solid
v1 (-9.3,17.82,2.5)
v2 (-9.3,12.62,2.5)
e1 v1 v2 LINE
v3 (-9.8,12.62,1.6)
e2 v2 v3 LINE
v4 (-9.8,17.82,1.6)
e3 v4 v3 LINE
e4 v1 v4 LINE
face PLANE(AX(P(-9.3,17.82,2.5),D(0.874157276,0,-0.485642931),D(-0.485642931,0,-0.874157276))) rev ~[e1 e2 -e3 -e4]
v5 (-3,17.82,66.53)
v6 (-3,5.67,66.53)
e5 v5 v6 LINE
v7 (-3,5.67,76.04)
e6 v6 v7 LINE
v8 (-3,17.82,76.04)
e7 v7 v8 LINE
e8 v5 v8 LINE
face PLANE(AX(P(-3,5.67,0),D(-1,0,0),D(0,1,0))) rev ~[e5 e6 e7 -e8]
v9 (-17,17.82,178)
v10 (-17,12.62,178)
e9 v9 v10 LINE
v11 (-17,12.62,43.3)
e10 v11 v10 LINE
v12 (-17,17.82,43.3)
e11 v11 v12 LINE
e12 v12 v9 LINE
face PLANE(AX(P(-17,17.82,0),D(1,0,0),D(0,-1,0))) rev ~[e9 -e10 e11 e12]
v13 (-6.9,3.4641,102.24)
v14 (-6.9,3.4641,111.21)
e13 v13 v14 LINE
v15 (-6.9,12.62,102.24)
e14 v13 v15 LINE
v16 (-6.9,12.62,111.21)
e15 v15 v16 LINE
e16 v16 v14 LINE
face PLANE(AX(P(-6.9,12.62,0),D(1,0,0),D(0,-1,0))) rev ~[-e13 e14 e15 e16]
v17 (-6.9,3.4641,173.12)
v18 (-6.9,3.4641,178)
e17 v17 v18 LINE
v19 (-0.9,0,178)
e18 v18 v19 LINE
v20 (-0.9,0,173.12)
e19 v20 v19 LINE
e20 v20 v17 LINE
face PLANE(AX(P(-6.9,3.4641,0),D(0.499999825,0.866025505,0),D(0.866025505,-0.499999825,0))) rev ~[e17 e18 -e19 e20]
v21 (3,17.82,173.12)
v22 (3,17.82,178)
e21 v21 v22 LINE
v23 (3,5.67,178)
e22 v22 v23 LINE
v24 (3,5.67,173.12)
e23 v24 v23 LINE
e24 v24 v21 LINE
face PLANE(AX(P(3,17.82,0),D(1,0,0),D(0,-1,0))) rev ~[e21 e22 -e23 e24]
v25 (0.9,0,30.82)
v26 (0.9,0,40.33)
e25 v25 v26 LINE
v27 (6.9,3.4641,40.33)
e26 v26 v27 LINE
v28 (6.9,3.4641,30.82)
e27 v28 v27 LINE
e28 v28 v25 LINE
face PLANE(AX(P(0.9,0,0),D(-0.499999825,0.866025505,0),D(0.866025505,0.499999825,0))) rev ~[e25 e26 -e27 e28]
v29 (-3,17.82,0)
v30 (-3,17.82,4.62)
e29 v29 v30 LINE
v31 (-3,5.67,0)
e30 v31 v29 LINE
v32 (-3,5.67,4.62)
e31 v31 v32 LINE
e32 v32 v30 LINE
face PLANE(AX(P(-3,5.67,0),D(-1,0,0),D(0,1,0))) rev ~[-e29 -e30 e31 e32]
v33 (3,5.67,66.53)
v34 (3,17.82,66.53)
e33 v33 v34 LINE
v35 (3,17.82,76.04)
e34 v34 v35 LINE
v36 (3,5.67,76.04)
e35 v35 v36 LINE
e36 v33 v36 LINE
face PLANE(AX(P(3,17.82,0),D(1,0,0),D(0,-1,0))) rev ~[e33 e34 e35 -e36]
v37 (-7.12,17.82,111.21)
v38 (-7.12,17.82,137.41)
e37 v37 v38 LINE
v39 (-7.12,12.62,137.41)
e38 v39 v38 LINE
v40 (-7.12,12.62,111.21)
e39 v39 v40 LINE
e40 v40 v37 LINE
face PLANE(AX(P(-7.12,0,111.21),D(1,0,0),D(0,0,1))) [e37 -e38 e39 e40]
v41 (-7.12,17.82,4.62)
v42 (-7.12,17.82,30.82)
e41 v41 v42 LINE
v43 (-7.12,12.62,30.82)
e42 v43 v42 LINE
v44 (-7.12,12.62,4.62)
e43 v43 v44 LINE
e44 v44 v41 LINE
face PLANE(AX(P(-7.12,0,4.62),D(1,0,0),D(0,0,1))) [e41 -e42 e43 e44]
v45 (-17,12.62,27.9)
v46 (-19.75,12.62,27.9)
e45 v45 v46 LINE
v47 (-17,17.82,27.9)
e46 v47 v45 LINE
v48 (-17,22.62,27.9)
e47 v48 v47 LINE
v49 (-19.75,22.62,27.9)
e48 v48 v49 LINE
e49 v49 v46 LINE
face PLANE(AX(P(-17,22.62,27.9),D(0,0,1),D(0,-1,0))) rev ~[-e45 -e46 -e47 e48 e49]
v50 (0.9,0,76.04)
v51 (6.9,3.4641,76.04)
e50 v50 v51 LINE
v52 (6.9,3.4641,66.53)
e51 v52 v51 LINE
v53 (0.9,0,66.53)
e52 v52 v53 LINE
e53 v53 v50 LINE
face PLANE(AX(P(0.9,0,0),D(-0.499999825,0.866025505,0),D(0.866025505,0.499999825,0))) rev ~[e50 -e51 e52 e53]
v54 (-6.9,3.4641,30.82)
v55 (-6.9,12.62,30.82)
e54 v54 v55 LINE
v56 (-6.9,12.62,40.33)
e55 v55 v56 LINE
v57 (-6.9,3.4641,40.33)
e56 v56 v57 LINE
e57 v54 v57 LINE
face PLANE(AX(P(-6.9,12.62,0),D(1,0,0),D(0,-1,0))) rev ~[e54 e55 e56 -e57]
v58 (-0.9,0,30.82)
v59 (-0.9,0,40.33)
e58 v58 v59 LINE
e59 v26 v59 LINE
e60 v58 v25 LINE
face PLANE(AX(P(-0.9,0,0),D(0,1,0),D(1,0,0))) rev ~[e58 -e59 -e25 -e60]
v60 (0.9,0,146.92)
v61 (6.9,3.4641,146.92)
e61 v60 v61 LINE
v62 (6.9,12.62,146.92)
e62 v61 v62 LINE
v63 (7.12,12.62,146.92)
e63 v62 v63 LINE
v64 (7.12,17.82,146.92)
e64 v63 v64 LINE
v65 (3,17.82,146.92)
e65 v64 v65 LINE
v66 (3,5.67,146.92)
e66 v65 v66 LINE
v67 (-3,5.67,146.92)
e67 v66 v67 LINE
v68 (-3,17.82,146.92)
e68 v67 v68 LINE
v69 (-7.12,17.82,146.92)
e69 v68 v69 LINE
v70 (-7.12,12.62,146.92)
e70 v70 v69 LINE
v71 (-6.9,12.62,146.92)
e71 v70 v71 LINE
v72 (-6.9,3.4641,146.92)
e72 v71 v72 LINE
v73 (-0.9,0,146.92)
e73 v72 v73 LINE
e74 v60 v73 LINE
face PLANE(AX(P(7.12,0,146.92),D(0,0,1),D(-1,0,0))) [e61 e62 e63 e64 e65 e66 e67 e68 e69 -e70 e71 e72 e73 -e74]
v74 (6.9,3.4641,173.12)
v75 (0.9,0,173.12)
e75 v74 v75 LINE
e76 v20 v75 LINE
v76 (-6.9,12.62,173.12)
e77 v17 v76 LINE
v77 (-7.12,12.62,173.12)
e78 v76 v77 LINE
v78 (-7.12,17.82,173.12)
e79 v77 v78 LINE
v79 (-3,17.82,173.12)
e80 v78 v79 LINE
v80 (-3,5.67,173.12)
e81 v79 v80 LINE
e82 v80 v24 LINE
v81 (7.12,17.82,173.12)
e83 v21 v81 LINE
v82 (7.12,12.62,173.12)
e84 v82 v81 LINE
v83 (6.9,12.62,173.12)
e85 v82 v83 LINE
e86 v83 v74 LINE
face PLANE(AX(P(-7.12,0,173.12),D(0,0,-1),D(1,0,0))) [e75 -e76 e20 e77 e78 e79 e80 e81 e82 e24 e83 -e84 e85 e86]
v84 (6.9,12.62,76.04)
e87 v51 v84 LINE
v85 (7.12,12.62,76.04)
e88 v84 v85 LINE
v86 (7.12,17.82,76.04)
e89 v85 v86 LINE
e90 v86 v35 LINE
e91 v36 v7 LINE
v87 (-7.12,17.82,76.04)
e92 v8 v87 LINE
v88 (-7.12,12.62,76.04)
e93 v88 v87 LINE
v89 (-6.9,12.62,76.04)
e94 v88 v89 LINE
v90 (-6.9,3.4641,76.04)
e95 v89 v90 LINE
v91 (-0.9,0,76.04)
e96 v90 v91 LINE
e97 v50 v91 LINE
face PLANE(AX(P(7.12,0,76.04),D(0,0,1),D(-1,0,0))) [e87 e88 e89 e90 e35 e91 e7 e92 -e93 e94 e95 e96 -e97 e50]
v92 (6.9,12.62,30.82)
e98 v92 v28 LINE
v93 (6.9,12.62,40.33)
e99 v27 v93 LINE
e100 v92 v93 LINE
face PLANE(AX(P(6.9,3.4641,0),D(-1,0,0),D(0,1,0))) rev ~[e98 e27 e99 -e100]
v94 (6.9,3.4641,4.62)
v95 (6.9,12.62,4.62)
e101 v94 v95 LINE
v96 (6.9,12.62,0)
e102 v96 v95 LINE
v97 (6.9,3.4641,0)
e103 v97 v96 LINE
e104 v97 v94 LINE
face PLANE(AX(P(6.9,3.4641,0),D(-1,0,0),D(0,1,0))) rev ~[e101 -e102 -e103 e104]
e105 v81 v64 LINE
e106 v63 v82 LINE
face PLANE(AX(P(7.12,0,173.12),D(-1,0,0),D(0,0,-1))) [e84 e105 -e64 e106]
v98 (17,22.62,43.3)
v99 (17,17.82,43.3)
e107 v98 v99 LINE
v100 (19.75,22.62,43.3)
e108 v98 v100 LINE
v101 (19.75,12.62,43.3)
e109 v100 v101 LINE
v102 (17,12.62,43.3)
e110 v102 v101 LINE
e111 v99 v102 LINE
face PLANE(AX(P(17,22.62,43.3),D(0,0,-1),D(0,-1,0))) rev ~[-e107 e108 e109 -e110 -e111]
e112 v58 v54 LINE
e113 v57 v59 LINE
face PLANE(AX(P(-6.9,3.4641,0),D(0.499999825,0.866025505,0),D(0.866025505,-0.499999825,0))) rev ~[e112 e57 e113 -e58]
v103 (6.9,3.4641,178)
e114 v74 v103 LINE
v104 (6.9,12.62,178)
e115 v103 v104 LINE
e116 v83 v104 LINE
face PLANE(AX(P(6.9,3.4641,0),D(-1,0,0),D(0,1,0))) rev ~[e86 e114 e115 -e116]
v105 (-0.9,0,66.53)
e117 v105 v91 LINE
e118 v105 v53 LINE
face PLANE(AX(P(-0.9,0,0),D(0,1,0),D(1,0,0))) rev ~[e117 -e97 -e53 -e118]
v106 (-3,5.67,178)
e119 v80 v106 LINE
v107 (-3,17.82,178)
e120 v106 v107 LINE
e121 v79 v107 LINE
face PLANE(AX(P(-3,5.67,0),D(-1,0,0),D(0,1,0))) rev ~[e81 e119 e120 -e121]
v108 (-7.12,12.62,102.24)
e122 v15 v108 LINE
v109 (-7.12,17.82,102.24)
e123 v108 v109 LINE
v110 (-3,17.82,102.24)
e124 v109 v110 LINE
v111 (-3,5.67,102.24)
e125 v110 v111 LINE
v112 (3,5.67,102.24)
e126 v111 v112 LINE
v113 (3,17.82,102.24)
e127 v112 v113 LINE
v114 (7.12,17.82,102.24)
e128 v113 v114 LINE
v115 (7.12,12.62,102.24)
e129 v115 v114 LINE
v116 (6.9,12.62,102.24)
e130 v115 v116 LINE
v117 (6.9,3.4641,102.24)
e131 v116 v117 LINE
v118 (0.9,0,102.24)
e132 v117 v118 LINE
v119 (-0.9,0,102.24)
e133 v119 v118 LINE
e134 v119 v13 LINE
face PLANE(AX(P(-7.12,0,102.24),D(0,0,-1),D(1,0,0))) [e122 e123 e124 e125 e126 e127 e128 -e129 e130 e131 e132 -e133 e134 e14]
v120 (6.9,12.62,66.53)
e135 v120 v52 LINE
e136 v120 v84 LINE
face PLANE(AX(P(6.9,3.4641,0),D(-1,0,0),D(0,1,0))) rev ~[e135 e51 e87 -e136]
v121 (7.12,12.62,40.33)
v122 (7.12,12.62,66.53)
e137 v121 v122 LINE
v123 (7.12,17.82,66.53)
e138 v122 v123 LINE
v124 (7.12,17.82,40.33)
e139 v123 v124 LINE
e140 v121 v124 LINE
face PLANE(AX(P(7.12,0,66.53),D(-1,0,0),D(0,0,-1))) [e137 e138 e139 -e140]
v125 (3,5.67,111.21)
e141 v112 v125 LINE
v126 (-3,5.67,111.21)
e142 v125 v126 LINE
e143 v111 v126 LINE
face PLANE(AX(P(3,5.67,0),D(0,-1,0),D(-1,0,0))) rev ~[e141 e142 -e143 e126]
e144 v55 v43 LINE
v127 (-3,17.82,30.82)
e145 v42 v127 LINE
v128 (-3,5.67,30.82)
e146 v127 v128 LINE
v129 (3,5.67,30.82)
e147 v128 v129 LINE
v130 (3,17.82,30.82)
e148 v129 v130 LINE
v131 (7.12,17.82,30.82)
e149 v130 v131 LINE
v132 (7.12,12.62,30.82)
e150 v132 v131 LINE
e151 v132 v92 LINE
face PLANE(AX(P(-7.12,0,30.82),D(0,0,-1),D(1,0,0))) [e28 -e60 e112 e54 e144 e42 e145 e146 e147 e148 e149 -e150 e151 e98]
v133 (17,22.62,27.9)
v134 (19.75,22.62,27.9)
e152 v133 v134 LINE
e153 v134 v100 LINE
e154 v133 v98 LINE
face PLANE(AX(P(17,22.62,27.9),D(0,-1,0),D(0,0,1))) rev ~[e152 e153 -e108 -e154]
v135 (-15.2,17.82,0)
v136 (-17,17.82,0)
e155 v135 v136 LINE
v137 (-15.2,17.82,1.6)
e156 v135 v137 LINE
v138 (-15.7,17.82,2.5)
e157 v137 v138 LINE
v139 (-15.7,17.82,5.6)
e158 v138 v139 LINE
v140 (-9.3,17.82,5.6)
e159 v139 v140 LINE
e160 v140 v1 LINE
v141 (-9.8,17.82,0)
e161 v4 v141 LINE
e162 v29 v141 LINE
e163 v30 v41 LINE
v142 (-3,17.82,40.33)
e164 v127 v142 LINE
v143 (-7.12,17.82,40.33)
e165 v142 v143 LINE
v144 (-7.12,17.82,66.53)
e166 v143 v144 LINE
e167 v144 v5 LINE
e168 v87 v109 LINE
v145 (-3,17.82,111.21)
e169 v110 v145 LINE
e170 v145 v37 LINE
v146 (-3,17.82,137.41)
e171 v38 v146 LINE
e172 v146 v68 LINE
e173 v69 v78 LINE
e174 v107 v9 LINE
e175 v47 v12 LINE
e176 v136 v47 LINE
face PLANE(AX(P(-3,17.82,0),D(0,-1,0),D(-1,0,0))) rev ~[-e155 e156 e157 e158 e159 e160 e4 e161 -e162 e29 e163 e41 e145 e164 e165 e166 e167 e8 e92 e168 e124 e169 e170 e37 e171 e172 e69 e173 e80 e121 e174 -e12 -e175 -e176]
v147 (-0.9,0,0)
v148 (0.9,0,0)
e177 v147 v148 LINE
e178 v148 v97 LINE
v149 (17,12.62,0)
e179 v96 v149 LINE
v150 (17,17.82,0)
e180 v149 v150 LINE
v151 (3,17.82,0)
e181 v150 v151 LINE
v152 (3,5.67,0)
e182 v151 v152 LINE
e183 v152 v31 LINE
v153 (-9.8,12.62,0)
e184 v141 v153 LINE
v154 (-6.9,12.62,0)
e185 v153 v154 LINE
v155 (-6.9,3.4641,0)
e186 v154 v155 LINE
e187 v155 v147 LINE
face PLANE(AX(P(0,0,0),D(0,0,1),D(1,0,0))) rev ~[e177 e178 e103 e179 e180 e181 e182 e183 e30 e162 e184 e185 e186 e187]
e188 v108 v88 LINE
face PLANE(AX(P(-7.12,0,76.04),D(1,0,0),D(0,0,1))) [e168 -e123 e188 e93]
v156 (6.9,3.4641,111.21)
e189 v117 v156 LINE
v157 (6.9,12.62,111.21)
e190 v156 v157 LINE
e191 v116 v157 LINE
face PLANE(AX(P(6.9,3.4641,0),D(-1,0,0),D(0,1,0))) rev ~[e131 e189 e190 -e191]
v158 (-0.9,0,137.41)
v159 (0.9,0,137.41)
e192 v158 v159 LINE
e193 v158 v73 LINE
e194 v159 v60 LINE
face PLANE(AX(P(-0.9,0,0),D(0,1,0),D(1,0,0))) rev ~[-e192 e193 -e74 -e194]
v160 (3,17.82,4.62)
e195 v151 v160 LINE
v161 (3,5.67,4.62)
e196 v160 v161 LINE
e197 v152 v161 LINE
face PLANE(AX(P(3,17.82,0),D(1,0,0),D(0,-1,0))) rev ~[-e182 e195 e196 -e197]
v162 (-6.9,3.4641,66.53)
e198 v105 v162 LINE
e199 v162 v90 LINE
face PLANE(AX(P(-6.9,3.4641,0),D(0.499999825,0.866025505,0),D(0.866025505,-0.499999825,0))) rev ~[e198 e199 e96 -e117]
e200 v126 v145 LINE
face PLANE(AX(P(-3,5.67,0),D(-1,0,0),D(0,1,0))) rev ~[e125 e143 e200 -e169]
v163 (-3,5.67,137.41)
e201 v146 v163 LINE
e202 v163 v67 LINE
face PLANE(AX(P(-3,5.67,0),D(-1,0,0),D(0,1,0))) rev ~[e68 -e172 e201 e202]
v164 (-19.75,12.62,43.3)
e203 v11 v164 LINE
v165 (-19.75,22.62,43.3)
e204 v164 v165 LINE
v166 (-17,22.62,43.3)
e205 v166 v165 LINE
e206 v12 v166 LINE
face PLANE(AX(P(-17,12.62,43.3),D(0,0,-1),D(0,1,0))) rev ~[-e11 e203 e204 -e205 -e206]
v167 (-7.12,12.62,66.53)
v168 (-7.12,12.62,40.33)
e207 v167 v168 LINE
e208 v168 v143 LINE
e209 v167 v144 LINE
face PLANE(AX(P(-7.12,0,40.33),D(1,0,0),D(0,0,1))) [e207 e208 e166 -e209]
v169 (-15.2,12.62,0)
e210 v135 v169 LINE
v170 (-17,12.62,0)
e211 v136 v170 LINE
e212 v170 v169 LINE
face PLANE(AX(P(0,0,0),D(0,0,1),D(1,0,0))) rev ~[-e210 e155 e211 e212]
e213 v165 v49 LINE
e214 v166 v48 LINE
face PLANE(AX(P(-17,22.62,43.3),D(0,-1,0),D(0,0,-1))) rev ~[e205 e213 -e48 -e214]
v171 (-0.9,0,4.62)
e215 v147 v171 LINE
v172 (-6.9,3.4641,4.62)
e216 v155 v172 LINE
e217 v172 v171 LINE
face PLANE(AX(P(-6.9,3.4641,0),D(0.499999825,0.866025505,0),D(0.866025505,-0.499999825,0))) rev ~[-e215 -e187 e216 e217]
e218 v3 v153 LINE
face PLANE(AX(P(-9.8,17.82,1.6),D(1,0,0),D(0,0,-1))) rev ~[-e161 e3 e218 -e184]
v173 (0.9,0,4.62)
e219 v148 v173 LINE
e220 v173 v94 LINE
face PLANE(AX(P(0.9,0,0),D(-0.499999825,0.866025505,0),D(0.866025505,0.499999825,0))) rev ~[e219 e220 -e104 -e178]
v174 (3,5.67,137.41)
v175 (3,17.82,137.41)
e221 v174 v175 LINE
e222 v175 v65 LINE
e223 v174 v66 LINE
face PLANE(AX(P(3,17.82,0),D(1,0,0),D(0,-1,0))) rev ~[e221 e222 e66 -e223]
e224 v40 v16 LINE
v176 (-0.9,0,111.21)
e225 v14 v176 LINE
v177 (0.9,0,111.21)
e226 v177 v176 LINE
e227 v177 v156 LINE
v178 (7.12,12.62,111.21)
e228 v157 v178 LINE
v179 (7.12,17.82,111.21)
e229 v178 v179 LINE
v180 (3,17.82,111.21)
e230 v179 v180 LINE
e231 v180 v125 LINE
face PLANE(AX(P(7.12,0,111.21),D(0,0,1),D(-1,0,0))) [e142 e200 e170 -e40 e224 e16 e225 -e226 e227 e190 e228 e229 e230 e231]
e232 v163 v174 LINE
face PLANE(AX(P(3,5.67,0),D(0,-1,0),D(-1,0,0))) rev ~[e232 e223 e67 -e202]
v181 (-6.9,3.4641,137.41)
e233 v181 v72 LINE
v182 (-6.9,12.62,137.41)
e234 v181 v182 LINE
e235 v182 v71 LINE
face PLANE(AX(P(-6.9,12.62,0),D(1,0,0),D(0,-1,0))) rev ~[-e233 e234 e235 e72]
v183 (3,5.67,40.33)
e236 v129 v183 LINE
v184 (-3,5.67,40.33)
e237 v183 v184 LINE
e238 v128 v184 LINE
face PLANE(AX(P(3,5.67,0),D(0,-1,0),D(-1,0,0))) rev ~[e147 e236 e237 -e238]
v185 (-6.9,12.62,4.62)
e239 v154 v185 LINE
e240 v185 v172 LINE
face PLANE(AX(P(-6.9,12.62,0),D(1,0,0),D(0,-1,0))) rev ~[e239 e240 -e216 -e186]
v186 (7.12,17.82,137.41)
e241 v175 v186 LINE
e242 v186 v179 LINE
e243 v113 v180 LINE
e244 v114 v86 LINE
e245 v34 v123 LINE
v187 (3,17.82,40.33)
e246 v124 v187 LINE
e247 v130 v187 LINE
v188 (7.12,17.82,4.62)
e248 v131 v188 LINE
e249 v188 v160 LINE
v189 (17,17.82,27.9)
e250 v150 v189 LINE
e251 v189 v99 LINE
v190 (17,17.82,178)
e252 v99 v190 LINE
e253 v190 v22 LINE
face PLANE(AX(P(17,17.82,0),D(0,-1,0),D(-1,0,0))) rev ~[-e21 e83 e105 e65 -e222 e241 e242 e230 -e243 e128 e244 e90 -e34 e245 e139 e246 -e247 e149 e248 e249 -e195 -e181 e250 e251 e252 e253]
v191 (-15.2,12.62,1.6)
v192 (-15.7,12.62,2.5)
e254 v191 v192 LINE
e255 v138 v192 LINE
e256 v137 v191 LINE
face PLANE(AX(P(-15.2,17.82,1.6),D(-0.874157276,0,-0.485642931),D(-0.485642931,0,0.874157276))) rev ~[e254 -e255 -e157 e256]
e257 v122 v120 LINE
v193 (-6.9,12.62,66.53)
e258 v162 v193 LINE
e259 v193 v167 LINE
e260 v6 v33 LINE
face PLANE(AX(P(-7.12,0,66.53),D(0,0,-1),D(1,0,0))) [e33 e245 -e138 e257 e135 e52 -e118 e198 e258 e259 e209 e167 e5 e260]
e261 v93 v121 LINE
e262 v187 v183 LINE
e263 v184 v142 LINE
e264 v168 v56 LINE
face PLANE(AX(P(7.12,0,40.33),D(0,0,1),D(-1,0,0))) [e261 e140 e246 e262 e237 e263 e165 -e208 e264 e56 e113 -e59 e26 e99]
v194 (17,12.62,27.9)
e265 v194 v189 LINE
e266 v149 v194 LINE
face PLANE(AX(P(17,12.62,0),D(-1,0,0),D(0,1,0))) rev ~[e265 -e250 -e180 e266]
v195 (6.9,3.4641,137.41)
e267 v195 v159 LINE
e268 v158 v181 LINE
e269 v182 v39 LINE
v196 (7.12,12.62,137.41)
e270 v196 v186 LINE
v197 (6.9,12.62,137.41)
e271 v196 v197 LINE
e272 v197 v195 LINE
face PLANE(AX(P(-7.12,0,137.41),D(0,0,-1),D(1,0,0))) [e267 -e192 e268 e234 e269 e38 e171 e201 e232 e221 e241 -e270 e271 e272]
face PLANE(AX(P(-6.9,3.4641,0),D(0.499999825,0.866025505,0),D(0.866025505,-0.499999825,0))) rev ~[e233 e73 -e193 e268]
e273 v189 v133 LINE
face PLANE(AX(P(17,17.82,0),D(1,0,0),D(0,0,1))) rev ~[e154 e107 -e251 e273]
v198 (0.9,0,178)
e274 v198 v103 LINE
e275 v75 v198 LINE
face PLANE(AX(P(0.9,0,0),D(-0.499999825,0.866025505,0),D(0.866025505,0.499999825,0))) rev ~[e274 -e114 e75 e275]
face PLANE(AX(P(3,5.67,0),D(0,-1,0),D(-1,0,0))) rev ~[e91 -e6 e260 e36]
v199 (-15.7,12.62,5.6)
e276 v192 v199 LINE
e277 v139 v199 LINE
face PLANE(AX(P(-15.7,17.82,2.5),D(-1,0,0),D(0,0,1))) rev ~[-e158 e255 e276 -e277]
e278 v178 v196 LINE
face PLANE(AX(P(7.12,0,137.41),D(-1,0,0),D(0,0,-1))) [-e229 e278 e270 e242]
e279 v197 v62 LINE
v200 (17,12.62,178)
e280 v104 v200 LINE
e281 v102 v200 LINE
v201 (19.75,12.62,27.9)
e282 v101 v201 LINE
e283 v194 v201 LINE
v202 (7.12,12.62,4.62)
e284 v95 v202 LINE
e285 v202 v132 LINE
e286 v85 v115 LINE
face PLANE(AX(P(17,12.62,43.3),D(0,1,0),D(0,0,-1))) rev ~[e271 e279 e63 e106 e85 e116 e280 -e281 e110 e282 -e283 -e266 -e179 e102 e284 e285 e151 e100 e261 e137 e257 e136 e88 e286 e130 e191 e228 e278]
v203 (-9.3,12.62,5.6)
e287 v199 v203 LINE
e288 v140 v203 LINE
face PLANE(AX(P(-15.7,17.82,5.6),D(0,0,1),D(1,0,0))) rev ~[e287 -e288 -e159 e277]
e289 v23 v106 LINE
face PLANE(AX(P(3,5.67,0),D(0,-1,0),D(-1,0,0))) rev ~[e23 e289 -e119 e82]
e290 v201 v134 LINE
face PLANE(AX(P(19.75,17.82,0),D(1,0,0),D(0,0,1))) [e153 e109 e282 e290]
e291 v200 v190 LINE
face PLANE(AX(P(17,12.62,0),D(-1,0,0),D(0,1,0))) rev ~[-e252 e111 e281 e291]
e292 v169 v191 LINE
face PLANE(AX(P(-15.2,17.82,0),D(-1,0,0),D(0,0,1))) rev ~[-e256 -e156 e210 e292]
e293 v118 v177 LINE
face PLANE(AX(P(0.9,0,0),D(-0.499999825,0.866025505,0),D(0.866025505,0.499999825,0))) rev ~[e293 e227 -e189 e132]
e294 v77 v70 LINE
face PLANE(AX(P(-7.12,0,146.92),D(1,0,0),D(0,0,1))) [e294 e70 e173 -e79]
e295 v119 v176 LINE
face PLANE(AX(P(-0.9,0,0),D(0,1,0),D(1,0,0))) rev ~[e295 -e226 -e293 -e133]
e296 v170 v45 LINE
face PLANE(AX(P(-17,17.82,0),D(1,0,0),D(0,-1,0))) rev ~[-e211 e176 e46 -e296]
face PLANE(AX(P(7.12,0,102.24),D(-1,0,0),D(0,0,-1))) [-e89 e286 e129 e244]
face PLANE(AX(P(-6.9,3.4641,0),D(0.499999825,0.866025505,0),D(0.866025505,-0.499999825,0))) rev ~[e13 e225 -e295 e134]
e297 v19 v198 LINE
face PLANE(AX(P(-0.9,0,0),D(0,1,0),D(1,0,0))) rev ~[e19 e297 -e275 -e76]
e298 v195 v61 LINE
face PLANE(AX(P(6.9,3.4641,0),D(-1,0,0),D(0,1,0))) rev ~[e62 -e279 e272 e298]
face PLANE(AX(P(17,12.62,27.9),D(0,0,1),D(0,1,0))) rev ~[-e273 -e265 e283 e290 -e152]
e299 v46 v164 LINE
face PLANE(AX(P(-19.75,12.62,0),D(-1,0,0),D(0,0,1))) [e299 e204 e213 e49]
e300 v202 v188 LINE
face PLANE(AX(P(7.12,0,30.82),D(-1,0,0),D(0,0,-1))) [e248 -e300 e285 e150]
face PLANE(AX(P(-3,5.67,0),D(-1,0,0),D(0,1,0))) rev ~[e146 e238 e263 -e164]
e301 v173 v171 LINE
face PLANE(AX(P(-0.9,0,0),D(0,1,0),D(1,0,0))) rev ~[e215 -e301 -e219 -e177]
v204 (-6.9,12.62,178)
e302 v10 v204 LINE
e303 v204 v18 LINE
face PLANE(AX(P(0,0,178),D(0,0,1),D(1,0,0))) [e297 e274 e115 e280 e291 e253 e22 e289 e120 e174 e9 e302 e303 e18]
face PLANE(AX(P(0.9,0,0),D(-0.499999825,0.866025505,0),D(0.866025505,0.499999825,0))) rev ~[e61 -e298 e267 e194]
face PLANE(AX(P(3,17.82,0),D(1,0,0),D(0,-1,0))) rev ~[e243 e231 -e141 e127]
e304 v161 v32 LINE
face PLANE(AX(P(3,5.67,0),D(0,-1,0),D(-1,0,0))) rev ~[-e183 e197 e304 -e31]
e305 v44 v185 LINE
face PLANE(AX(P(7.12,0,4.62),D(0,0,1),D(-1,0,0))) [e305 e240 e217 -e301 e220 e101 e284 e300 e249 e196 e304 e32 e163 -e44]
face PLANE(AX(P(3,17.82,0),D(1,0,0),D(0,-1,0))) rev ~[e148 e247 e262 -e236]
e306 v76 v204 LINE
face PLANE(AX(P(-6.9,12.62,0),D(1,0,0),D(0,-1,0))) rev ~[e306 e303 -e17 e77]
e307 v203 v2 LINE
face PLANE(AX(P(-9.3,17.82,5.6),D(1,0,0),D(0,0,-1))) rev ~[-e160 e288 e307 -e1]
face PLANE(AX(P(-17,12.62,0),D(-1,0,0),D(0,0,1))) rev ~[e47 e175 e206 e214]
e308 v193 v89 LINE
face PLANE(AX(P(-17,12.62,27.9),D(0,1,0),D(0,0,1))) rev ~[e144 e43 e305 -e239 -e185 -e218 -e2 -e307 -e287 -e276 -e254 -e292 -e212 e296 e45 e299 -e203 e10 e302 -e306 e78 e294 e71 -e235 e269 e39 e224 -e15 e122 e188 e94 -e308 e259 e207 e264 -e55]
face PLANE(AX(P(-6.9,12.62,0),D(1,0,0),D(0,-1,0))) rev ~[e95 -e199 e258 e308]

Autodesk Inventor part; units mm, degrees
sketch "Sketch_1" plane through (0, 0, 0) normal (0, 0, 1) x (1, 0, 0)
  line L0 (-17, 17.82) -> (-17, 12.62)
  line L1 (-17, 12.62) -> (-6.9, 12.62)
  line L2 (-6.9, 12.62) -> (-6.9, 3.4641)
  line L3 (-6.9, 3.4641) -> (-0.9, 0)
  line L4 (-0.9, 0) -> (0.9, 0)
  line L5 (0.9, 0) -> (6.9, 3.4641)
  line L6 (6.9, 3.4641) -> (6.9, 12.62)
  line L7 (6.9, 12.62) -> (17, 12.62)
  line L8 (17, 12.62) -> (17, 17.82)
  line L9 (17, 17.82) -> (3, 17.82)
  line L10 (3, 17.82) -> (3, 5.67)
  line L11 (3, 5.67) -> (-3, 5.67)
  line L12 (-3, 5.67) -> (-3, 17.82)
  line L13 (-3, 17.82) -> (-17, 17.82)
extrude "Extrusion1" add sketch "Sketch_1" along normal blind 178
sketch "Sketch_9" plane through (0, 0, 0) normal (0, 1, 0) x (-1, 0, 0)
  line L0 (7.12, 4.62) -> (7.12, 30.82)
  line L1 (7.12, 30.82) -> (-7.12, 30.82)
  line L2 (-7.12, 30.82) -> (-7.12, 4.62)
  line L3 (-7.12, 4.62) -> (7.12, 4.62)
extrude "Extrusion2" cut sketch "Sketch_9" along normal blind 25
sketch "Sketch_2" plane through (0, 0, 0) normal (0, 1, 0) x (-1, 0, 0)
  line L0 (7.12, 40.33) -> (7.12, 66.53)
  line L1 (7.12, 66.53) -> (-7.12, 66.53)
  line L2 (-7.12, 66.53) -> (-7.12, 40.33)
  line L3 (-7.12, 40.33) -> (7.12, 40.33)
extrude "Extrusion3" cut sketch "Sketch_2" along normal blind 25
sketch "Sketch_3" plane through (0, 0, 0) normal (0, 1, 0) x (-1, 0, 0)
  line L0 (7.12, 76.04) -> (7.12, 102.24)
  line L1 (7.12, 102.24) -> (-7.12, 102.24)
  line L2 (-7.12, 102.24) -> (-7.12, 76.04)
  line L3 (-7.12, 76.04) -> (7.12, 76.04)
extrude "Extrusion4" cut sketch "Sketch_3" along normal blind 25
sketch "Sketch_4" plane through (0, 0, 0) normal (0, 1, 0) x (-1, 0, 0)
  line L0 (7.12, 111.21) -> (7.12, 137.41)
  line L1 (7.12, 137.41) -> (-7.12, 137.41)
  line L2 (-7.12, 137.41) -> (-7.12, 111.21)
  line L3 (-7.12, 111.21) -> (7.12, 111.21)
extrude "Extrusion5" cut sketch "Sketch_4" along normal blind 25
sketch "Sketch_5" plane through (0, 0, 0) normal (0, 1, 0) x (-1, 0, 0)
  line L0 (7.12, 146.92) -> (7.12, 173.12)
  line L1 (7.12, 173.12) -> (-7.12, 173.12)
  line L2 (-7.12, 173.12) -> (-7.12, 146.92)
  line L3 (-7.12, 146.92) -> (7.12, 146.92)
extrude "Extrusion6" cut sketch "Sketch_5" along normal blind 25
sketch "Sketch_12" plane through (17, 17.82, 0) normal (0, 1, 0) x (-1, 0, 0)
  line L0 (26.3, 5.6) -> (26.3, 2.5)
  line L1 (26.3, 2.5) -> (26.8, 1.6)
  line L2 (26.8, 1.6) -> (26.8, 0)
  line L3 (26.8, 0) -> (32.2, 0)
  line L4 (32.2, 0) -> (32.2, 1.6)
  line L5 (32.2, 1.6) -> (32.7, 2.5)
  line L6 (32.7, 2.5) -> (32.7, 5.6)
  line L7 (32.7, 5.6) -> (26.3, 5.6)
extrude "Extrusion8" cut sketch "Sketch_12" against normal blind 6
sketch "Sketch_16" plane through (-17, 12.62, 0) normal (-1, 0, 0) x (0, 0, 1)
  line L0 (27.9, 10) -> (27.9, 0)
  line L1 (27.9, 0) -> (43.3, 0)
  line L2 (43.3, 0) -> (43.3, 10)
  line L3 (43.3, 10) -> (27.9, 10)
extrude "Extrusion9" add sketch "Sketch_16" along normal blind 2.75
sketch "Sketch_14" plane through (17, 17.82, 0) normal (1, 0, 0) x (0, 0, 1)
  line L0 (27.9, -4.8) -> (43.3, -4.8)
  line L1 (43.3, -4.8) -> (43.3, 5.2)
  line L2 (43.3, 5.2) -> (27.9, 5.2)
  line L3 (27.9, 5.2) -> (27.9, -4.8)
extrude "Extrusion10" add sketch "Sketch_14" along normal blind 2.75
ref_plane "p1_XY" through (0, 0, 0) normal (0, 1, 0) x (1, 0, 0)
ref_plane "p1_YZ" through (0, 0, 0) normal (1, 0, 0) x (0, 0, -1)
ref_plane "p1_ZX" through (0, 0, 0) normal (0, 0, -1) x (0, 1, 0)
properties part number "PRO10315 Rolle fuer Rollenleiste 178"
